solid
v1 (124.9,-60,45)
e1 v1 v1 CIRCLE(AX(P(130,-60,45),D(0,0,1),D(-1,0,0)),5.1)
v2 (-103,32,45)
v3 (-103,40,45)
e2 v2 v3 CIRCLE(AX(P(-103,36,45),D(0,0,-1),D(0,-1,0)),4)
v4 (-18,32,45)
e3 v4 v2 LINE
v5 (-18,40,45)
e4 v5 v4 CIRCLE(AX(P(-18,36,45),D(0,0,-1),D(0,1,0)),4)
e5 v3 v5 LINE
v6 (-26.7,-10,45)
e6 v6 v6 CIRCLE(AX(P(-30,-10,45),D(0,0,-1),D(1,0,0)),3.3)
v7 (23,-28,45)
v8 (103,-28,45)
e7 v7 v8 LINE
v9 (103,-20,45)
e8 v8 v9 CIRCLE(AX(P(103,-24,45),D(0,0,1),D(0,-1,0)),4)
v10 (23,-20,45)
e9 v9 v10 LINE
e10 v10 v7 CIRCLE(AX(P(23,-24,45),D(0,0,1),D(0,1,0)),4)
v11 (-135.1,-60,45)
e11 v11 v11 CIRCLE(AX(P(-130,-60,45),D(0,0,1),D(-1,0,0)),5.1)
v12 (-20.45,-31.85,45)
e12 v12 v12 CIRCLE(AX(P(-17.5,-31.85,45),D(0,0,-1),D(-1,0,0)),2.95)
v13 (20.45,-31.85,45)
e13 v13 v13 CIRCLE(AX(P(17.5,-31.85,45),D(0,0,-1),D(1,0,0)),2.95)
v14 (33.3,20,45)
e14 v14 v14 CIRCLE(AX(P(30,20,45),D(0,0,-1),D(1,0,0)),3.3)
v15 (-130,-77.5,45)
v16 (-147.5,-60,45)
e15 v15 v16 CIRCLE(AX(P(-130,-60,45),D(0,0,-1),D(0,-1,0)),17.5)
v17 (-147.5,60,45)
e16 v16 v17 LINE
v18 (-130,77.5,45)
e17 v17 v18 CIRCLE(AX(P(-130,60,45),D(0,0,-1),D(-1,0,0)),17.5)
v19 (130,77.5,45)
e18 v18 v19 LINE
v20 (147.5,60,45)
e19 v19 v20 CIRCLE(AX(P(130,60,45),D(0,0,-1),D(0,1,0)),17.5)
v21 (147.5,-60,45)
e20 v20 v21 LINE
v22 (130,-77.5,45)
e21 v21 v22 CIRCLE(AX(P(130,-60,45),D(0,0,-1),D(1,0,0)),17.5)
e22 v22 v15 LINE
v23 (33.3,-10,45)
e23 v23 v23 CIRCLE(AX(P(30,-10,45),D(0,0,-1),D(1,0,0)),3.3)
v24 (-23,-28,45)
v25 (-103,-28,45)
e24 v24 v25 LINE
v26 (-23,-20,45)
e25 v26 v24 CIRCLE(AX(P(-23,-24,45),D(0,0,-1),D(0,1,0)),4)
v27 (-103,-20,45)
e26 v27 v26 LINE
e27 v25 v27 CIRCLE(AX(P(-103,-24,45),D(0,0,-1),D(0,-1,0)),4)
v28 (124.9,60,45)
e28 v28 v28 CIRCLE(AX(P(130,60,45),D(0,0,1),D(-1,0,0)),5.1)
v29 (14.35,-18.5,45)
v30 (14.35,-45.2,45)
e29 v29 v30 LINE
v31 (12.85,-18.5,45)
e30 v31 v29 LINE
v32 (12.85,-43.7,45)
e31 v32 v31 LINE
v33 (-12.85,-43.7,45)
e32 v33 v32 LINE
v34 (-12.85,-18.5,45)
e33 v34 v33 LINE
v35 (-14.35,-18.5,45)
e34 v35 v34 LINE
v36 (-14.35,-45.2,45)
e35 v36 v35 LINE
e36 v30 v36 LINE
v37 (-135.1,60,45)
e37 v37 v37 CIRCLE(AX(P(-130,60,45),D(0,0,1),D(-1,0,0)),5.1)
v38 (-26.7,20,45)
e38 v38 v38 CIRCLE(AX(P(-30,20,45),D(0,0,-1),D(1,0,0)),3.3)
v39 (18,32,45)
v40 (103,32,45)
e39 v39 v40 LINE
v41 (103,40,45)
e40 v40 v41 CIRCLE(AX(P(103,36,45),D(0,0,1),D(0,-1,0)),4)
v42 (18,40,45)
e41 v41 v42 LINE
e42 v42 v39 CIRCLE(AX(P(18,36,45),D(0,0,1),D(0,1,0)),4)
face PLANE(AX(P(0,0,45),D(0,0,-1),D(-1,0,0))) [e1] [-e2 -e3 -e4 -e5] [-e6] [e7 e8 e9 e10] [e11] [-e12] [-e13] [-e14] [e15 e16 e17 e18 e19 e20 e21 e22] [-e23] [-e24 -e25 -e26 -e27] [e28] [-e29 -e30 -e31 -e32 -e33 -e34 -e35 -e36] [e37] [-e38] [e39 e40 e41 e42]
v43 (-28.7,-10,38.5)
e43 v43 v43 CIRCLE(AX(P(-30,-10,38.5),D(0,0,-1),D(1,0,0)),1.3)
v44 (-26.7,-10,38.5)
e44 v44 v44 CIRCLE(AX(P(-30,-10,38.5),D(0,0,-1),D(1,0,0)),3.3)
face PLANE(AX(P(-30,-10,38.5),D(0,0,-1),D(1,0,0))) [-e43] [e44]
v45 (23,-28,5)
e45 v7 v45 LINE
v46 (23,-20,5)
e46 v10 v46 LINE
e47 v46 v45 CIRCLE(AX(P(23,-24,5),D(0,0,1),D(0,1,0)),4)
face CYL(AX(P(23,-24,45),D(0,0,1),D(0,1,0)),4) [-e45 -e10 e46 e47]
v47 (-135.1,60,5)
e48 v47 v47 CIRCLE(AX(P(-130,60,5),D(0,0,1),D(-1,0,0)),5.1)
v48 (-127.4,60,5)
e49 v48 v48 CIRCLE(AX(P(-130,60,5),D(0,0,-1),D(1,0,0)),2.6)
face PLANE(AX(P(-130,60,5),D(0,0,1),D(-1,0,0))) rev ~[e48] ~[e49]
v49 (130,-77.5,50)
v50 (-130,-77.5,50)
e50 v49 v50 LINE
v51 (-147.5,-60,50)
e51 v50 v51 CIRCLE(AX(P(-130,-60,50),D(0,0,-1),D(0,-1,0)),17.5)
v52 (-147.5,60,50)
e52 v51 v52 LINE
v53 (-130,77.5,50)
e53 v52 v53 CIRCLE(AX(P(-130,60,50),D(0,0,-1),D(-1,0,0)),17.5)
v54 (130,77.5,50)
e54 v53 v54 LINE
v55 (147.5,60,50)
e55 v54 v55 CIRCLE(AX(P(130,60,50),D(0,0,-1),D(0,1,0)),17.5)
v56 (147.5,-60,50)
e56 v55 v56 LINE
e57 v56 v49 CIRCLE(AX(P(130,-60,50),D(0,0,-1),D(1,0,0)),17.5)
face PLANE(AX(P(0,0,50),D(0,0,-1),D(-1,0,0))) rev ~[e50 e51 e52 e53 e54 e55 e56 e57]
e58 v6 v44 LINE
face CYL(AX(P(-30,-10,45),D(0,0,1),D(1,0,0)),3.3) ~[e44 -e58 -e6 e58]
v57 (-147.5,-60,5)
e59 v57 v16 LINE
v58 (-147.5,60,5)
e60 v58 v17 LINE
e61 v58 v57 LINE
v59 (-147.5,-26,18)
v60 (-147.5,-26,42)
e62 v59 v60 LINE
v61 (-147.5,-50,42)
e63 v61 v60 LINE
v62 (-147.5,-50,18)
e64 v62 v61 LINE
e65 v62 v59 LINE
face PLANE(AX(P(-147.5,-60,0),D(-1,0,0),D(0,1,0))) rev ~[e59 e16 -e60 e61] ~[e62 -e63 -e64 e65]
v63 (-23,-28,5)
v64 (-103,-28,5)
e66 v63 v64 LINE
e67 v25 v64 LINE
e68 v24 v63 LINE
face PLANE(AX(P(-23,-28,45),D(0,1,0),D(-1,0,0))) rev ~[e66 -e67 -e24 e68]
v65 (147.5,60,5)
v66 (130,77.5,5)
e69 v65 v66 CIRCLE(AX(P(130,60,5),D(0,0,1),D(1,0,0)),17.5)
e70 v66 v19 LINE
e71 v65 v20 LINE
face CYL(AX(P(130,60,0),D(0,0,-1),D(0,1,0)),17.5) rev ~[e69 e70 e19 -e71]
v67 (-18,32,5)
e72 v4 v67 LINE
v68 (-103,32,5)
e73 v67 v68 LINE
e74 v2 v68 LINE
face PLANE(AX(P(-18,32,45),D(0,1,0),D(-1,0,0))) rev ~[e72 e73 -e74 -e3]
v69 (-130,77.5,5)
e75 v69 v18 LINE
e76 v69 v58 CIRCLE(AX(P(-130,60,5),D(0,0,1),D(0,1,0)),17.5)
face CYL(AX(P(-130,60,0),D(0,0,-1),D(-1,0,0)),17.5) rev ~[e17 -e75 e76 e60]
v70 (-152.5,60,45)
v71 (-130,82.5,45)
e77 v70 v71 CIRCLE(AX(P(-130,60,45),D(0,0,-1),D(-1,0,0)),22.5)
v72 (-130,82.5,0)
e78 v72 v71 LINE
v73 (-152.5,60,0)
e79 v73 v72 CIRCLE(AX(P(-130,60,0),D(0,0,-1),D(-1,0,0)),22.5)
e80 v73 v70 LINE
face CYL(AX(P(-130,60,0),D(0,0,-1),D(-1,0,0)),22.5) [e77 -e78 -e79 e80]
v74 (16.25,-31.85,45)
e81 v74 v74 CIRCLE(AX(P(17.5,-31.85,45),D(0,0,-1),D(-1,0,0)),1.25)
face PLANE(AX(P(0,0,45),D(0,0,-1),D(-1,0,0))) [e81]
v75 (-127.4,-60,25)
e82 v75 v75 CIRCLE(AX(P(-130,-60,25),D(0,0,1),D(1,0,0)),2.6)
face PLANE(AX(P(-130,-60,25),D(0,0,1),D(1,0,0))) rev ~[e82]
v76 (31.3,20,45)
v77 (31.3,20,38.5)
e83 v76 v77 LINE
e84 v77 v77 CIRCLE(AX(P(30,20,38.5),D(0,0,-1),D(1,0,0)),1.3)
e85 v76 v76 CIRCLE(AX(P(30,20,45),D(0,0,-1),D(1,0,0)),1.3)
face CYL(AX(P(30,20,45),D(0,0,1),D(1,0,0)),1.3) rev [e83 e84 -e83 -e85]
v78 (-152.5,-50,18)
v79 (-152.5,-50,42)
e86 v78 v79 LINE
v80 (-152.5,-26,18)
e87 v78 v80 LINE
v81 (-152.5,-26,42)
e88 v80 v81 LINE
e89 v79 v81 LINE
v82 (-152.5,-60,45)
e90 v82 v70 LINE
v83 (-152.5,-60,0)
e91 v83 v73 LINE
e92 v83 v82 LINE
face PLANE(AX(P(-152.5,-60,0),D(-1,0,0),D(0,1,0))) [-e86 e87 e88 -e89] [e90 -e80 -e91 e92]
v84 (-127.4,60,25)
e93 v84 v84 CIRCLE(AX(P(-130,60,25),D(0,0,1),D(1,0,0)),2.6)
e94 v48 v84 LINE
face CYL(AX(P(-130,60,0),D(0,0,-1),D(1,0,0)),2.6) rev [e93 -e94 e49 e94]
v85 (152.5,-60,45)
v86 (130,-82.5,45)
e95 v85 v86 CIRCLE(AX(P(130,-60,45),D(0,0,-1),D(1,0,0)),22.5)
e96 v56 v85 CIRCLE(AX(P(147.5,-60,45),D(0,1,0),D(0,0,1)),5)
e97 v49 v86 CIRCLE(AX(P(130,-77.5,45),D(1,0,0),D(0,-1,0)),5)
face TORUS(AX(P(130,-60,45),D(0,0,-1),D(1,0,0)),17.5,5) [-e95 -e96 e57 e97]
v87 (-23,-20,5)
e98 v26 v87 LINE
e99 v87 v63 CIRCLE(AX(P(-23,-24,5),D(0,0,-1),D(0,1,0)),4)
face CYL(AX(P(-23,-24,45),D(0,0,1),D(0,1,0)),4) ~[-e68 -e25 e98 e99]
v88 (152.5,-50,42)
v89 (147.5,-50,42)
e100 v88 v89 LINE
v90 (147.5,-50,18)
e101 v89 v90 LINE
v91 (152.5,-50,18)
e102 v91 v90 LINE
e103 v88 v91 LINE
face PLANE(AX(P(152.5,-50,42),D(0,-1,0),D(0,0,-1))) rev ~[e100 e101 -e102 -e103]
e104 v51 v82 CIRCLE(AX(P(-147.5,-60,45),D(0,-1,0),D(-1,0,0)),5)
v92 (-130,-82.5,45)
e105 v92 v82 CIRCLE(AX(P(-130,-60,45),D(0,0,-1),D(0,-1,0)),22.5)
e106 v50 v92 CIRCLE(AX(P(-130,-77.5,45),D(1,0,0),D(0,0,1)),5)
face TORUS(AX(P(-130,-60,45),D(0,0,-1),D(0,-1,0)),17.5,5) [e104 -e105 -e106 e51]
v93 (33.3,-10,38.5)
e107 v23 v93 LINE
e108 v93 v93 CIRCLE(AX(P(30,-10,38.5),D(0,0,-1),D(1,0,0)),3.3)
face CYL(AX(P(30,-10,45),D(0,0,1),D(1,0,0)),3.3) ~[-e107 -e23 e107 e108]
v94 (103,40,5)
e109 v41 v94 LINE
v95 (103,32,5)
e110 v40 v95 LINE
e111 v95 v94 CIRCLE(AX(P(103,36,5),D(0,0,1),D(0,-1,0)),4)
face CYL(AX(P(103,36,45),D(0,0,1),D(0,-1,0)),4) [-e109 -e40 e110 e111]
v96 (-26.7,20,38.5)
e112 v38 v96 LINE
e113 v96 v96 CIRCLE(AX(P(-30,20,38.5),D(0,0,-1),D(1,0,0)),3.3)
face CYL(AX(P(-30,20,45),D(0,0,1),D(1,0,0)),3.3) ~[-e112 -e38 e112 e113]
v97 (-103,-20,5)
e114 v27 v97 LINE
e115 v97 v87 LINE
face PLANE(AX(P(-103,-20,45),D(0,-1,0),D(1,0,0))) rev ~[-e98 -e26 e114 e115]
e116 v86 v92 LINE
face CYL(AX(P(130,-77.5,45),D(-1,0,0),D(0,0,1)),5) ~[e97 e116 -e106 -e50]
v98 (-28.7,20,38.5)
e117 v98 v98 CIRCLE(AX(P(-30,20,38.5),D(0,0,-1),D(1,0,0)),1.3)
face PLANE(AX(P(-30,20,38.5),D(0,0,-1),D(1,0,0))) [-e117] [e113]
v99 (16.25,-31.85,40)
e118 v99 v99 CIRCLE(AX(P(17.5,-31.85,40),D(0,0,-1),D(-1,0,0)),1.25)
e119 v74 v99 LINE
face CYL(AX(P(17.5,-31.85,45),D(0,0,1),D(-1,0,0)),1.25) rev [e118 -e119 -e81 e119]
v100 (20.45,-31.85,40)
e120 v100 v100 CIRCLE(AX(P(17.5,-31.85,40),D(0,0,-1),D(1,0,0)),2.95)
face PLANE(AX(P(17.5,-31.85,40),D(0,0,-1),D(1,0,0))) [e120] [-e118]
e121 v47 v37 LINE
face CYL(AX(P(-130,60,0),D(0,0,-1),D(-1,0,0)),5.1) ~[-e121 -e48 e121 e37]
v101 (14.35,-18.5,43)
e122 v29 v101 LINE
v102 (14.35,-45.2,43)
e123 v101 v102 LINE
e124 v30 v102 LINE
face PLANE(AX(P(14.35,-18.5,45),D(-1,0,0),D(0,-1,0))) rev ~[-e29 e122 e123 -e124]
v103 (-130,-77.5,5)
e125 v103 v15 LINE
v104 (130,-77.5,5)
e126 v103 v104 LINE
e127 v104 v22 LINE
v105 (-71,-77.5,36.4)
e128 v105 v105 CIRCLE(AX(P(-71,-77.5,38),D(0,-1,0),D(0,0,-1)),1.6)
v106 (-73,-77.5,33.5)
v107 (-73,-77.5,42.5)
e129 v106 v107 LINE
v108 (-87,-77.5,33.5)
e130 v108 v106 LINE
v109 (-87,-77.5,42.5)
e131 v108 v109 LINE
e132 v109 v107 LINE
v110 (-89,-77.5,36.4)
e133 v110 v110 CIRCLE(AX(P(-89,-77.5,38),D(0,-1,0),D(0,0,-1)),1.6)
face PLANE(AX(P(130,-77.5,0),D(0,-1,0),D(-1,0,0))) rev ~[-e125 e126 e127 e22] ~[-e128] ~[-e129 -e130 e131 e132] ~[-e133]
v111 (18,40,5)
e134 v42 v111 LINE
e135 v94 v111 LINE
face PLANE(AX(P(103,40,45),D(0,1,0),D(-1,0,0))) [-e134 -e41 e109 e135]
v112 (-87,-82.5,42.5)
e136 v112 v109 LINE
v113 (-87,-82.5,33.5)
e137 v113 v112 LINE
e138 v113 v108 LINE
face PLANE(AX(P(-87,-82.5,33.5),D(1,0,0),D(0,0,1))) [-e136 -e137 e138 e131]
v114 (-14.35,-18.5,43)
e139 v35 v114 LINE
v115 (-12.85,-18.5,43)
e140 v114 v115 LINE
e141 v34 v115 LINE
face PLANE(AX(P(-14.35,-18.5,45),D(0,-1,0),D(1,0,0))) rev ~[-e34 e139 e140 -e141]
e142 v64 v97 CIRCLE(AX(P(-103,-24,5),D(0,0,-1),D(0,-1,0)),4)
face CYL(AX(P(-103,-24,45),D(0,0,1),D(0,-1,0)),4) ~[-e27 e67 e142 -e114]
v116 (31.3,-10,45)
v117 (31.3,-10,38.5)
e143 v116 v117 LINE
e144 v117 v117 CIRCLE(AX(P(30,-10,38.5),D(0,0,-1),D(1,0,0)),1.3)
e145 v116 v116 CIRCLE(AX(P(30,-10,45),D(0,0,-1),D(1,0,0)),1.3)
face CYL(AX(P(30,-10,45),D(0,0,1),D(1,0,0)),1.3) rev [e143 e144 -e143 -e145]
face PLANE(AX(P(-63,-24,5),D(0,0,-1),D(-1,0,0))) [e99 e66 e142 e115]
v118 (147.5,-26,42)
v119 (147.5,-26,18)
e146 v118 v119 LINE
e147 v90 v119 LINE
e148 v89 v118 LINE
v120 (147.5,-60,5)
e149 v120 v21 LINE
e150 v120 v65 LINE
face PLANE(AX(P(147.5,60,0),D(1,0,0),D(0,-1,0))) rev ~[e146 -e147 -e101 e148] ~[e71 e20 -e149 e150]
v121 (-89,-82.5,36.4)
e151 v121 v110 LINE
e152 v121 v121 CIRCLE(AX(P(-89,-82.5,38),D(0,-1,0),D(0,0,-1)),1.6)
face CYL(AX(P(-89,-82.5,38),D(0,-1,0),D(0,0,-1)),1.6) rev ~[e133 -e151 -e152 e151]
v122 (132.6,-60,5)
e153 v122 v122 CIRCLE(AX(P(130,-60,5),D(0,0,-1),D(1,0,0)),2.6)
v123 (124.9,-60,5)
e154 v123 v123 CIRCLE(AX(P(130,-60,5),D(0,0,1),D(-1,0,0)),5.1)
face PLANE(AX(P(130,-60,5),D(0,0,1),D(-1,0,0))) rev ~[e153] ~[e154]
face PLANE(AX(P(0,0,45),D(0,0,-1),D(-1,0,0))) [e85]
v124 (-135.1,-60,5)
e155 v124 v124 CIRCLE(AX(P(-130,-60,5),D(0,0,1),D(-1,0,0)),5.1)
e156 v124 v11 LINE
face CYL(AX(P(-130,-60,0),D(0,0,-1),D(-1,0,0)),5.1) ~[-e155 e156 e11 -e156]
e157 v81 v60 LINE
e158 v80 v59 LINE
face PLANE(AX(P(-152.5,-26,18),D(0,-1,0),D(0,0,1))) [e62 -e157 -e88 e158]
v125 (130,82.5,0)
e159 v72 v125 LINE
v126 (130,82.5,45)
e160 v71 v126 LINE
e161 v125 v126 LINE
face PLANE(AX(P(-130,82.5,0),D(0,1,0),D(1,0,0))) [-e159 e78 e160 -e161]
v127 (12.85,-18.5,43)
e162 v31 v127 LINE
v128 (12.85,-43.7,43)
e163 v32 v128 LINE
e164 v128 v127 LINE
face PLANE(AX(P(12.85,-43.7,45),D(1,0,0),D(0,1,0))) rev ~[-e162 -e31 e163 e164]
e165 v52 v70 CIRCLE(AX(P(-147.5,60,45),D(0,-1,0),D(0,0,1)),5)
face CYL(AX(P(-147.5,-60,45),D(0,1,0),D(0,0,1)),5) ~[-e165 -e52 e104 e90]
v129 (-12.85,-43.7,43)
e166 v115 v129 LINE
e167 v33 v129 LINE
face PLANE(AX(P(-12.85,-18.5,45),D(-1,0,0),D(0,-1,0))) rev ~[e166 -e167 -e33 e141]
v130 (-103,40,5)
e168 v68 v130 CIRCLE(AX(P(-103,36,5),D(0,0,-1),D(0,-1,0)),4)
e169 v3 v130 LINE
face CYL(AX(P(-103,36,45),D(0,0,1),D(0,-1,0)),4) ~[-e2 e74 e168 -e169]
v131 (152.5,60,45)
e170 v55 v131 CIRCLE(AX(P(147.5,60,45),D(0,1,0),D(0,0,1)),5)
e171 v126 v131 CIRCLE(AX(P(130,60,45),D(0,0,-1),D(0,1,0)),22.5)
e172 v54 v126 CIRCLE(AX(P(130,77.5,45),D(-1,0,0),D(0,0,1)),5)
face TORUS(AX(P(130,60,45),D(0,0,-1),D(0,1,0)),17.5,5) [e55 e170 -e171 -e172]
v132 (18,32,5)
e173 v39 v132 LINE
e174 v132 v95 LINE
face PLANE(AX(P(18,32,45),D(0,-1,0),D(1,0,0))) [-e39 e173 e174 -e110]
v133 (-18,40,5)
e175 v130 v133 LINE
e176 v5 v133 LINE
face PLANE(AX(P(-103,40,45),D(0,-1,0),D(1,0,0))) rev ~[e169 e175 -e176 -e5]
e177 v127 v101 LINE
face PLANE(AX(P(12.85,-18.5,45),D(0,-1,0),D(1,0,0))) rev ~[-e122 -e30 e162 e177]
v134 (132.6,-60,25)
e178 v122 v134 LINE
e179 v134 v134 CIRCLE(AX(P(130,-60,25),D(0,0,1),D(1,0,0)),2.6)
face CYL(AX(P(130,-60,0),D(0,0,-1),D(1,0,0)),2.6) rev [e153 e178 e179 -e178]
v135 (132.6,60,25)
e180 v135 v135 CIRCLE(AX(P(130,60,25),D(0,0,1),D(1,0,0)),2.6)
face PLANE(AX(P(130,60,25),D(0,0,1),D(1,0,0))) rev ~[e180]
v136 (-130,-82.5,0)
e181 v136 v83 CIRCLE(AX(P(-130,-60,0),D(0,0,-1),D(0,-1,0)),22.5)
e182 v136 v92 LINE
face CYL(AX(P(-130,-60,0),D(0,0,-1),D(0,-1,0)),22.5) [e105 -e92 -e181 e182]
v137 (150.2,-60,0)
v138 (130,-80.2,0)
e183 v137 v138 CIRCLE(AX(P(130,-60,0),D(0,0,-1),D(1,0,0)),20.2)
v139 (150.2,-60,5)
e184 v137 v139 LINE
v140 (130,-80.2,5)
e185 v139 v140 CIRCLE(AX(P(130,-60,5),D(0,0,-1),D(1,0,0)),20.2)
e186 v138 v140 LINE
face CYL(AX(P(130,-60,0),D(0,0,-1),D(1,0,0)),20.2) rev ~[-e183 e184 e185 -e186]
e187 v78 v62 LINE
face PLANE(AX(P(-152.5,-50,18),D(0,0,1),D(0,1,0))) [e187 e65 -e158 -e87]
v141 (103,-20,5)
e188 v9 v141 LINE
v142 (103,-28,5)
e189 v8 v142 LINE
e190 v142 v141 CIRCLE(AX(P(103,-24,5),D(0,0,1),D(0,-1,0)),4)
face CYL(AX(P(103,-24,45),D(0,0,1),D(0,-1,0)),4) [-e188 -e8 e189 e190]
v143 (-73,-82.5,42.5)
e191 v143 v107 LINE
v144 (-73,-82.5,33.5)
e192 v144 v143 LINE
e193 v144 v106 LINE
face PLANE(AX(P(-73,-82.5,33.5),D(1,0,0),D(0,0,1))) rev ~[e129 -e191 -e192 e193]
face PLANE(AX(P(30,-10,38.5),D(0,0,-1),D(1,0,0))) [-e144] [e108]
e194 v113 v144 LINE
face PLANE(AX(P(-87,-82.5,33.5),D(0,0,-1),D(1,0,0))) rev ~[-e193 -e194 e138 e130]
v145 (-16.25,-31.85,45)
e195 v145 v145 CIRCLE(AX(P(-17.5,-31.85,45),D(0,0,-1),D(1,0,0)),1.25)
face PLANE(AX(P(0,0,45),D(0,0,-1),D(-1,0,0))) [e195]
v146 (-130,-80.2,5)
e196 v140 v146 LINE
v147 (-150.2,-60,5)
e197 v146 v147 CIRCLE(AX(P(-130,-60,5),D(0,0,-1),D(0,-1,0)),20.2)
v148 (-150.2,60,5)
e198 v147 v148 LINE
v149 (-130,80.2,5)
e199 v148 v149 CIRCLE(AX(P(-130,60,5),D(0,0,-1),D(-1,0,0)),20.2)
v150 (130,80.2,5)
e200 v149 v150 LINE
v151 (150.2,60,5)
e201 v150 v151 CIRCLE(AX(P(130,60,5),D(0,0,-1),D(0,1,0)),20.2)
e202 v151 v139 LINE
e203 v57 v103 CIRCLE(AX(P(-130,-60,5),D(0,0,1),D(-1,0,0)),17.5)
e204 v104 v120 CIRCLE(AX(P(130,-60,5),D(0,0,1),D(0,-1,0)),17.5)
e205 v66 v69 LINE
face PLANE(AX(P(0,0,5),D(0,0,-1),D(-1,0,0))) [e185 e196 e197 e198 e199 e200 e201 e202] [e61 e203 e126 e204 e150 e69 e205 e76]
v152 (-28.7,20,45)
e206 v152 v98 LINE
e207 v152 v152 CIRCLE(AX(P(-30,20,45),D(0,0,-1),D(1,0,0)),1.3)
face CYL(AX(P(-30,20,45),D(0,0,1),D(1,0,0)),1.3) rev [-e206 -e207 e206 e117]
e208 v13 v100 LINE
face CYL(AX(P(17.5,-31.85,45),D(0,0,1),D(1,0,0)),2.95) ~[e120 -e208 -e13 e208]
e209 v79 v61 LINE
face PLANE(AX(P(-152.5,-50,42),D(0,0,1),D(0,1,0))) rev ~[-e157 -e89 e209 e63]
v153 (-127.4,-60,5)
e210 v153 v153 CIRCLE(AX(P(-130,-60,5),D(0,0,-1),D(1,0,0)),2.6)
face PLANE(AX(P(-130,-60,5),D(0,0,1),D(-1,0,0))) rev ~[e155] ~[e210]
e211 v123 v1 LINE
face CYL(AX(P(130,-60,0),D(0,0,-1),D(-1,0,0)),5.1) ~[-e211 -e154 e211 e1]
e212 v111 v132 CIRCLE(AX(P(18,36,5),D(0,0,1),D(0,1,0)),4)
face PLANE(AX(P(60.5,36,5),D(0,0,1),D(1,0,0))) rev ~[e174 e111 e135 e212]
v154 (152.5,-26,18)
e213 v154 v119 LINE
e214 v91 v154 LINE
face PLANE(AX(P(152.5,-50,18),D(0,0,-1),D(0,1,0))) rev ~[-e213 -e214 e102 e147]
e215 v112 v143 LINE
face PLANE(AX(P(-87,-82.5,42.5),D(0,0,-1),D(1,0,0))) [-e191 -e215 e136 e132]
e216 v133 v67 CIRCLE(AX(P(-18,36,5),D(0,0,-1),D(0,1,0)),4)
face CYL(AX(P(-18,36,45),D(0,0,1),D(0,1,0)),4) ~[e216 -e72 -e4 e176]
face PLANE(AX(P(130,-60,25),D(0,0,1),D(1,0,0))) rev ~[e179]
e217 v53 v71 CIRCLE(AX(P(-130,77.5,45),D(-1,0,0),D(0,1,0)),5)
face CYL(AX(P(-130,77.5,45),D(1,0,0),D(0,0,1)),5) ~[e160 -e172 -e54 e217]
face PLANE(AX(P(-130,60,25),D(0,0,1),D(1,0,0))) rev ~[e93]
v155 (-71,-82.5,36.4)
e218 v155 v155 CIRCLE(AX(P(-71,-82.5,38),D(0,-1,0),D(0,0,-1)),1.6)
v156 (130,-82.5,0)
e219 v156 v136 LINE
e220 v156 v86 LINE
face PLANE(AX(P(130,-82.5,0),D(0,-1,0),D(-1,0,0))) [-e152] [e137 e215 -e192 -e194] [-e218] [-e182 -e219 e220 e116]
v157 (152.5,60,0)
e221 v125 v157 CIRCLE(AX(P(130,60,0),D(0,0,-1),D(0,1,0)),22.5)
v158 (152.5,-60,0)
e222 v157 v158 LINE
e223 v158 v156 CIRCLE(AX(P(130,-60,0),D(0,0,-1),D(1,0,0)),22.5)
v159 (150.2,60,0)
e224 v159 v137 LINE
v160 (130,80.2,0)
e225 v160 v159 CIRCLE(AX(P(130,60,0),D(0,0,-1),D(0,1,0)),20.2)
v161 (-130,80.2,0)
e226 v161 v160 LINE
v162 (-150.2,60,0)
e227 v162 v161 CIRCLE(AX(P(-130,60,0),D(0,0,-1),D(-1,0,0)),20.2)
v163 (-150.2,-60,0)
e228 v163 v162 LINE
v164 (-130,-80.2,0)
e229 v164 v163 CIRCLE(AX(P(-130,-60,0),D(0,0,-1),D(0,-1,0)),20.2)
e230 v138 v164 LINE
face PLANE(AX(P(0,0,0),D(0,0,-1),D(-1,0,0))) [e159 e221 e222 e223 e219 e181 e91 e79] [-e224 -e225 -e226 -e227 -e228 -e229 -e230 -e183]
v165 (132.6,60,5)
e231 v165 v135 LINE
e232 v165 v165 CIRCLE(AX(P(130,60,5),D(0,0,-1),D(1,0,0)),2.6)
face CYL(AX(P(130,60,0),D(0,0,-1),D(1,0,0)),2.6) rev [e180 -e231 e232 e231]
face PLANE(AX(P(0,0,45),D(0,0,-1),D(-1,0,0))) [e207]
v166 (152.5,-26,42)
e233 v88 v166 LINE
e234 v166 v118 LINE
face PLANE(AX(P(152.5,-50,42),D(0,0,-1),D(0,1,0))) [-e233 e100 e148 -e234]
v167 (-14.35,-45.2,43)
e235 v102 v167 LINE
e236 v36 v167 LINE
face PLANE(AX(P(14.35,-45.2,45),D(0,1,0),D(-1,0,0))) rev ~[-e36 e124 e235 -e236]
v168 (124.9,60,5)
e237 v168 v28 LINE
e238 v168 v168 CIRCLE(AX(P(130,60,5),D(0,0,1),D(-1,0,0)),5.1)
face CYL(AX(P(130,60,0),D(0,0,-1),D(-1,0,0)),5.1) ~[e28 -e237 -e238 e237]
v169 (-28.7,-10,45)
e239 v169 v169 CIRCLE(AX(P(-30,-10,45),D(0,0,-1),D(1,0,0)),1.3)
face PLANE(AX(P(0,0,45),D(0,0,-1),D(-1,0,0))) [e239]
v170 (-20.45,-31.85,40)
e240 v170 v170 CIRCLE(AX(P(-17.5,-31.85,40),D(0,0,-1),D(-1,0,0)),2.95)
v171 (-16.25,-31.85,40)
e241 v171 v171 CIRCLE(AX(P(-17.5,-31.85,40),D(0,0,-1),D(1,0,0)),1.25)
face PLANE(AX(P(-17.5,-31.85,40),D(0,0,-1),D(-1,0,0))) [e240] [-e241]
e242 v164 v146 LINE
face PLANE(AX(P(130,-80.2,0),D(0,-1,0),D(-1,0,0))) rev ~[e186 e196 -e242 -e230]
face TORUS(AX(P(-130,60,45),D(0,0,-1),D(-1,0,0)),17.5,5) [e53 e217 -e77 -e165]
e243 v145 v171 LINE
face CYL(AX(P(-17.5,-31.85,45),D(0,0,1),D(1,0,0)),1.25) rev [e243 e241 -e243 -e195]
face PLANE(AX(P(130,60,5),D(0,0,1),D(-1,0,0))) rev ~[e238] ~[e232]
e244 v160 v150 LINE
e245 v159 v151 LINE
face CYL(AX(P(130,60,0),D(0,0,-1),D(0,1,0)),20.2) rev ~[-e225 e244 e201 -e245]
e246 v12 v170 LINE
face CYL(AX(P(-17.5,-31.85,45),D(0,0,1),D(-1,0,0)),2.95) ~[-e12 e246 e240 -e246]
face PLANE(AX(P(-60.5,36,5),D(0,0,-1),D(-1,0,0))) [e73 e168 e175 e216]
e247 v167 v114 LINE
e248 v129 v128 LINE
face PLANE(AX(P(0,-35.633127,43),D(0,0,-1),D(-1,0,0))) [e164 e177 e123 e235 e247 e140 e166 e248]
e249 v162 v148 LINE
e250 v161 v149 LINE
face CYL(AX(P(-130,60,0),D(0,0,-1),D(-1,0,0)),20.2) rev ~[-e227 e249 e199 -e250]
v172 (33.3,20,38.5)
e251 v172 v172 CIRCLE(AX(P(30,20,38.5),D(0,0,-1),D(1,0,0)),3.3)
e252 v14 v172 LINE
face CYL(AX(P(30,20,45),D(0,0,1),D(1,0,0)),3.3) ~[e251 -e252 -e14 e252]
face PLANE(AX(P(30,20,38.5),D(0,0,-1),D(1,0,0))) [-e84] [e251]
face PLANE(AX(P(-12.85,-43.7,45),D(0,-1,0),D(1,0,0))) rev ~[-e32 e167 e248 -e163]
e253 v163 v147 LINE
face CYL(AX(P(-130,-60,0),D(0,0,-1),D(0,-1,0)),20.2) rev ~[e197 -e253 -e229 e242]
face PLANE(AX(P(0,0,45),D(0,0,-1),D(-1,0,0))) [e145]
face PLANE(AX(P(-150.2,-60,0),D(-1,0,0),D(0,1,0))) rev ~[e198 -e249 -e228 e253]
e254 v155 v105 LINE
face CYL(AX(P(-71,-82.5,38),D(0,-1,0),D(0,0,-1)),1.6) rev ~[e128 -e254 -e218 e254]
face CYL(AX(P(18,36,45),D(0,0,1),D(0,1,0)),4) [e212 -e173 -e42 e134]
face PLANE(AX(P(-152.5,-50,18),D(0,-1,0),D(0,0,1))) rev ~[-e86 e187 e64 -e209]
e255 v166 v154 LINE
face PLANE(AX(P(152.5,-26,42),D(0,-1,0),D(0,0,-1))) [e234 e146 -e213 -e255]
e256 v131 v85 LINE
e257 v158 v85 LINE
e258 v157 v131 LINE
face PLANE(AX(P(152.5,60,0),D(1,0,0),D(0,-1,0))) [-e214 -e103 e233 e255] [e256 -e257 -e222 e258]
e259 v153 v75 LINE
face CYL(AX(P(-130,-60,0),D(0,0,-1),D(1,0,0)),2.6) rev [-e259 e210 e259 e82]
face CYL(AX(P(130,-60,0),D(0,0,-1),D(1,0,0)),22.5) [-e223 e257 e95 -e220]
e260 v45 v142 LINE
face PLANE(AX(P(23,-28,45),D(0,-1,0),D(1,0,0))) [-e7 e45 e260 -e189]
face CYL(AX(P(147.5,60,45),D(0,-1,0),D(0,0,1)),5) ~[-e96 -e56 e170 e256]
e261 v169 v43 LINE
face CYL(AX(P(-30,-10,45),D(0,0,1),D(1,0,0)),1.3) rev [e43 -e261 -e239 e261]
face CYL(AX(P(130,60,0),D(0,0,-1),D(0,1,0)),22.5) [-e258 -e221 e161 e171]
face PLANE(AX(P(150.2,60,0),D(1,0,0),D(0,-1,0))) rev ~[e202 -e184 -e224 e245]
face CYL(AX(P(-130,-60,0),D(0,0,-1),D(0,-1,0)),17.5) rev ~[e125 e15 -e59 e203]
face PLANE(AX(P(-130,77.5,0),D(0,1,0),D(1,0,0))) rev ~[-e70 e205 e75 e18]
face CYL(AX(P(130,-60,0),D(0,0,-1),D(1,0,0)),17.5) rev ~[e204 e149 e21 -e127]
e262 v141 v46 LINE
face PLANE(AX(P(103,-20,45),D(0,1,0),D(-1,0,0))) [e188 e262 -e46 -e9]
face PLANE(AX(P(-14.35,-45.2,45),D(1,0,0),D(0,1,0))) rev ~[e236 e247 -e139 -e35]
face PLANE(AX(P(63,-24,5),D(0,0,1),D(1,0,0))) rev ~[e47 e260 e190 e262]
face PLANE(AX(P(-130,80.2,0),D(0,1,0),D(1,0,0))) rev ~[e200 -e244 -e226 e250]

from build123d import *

# Parameters (mm, degrees)
EXTRUDE_1_DEPTH      = 50
SKETCH_1_4_R         = 5.1
CUT_EXTRUDE_1_DEPTH  = 45
CUT_EXTRUDE_2_DEPTH  = 5
SKETCH_1_6_R         = 5.1
CUT_EXTRUDE_3_DEPTH  = 5
SKETCH_1_7_R         = 2.6
CUT_EXTRUDE_4_DEPTH  = 25
FILLET_2_R           = 5
SKETCH_14_W          = 14
SKETCH_14_H          = 9
SKETCH_14_R          = 1.6
USB_DEPTH            = 5
SKETCH_16_W          = 24
SKETCH_16_H          = 24
CUT_EXTRUDE_12_DEPTH = 5
SKETCH_18_W          = 24
SKETCH_18_H          = 24
CUT_EXTRUDE_13_DEPTH = 5
EXTRUDE_2_DEPTH      = 40
EXTRUDE_3_DEPTH      = 2
SKETCH_29_4_R        = 2.95
SKETCH_29_4_R_2      = 1.25
EXTRUDE_4_DEPTH      = 5
SKETCH_29_5_R        = 3.3
SKETCH_29_5_R_2      = 1.3
EXTRUDE_5_DEPTH      = 6.5


with BuildPart() as part:
    # 草图1 → 凸台-拉伸1 (new body)
    with BuildSketch(Plane.XY):
        with BuildLine():
            Line((-130, 82.5), (130, 82.5))
            ThreePointArc((130, 82.5), (145.909902577, 75.909902577), (152.5, 60))
            Line((152.5, 60), (152.5, -60))
            ThreePointArc((152.5, -60), (145.909902577, -75.909902577), (130, -82.5))
            Line((130, -82.5), (-130, -82.5))
            ThreePointArc((-130, -82.5), (-145.909902577, -75.909902577), (-152.5, -60))
            Line((-152.5, -60), (-152.5, 60))
            ThreePointArc((-152.5, 60), (-145.909902577, 75.909902577), (-130, 82.5))
        make_face()
    extrude(amount=EXTRUDE_1_DEPTH)

    # 草图1<4> → 切除-拉伸1 (cut)
    with BuildSketch(Plane.XY):
        with BuildLine():
            Line((130, 77.5), (-130, 77.5))
            ThreePointArc((-130, 77.5), (-142.374368671, 72.374368671), (-147.5, 60))
            Line((-147.5, 60), (-147.5, -60))
            ThreePointArc((-147.5, -60), (-142.374368671, -72.374368671), (-130, -77.5))
            Line((-130, -77.5), (130, -77.5))
            ThreePointArc((130, -77.5), (142.374368671, -72.374368671), (147.5, -60))
            Line((147.5, -60), (147.5, 60))
            ThreePointArc((147.5, 60), (142.374368671, 72.374368671), (130, 77.5))
        make_face()
        with Locations((-130, -60)):
            Circle(SKETCH_1_4_R, mode=Mode.SUBTRACT)
        with Locations((130, -60)):
            Circle(SKETCH_1_4_R, mode=Mode.SUBTRACT)
        with Locations((-130, 60)):
            Circle(SKETCH_1_4_R, mode=Mode.SUBTRACT)
        with Locations((130, 60)):
            Circle(SKETCH_1_4_R, mode=Mode.SUBTRACT)
    extrude(amount=CUT_EXTRUDE_1_DEPTH, mode=Mode.SUBTRACT)

    # 草图1<5> → 切除-拉伸2 (cut)
    with BuildSketch(Plane.XY):
        with BuildLine():
            ThreePointArc((-130, 80.2), (-144.28355698, 74.28355698), (-150.2, 60))
            Line((-150.2, 60), (-150.2, -60))
            ThreePointArc((-150.2, -60), (-144.28355698, -74.28355698), (-130, -80.2))
            Line((-130, -80.2), (130, -80.2))
            ThreePointArc((130, -80.2), (144.28355698, -74.28355698), (150.2, -60))
            Line((150.2, -60), (150.2, 60))
            ThreePointArc((150.2, 60), (144.28355698, 74.28355698), (130, 80.2))
            Line((130, 80.2), (-130, 80.2))
        make_face()
        with BuildLine():
            ThreePointArc((-147.5, 60), (-142.374368671, 72.374368671), (-130, 77.5))
            Line((-130, 77.5), (130, 77.5))
            ThreePointArc((130, 77.5), (142.374368671, 72.374368671), (147.5, 60))
            Line((147.5, 60), (147.5, -60))
            ThreePointArc((147.5, -60), (142.374368671, -72.374368671), (130, -77.5))
            Line((130, -77.5), (-130, -77.5))
            ThreePointArc((-130, -77.5), (-142.374368671, -72.374368671), (-147.5, -60))
            Line((-147.5, -60), (-147.5, 60))
        make_face(mode=Mode.SUBTRACT)
    extrude(amount=CUT_EXTRUDE_2_DEPTH, mode=Mode.SUBTRACT)

    # 草图1<6> → 切除-拉伸3 (cut)
    with BuildSketch(Plane.XY):
        with Locations((130, 60)):
            Circle(SKETCH_1_6_R)
        with Locations((130, -60)):
            Circle(SKETCH_1_6_R)
        with Locations((-130, 60)):
            Circle(SKETCH_1_6_R)
        with Locations((-130, -60)):
            Circle(SKETCH_1_6_R)
    extrude(amount=CUT_EXTRUDE_3_DEPTH, mode=Mode.SUBTRACT)

    # 草图1<7> → 切除-拉伸4 (cut)
    with BuildSketch(Plane.XY):
        with Locations((130, 60)):
            Circle(SKETCH_1_7_R)
        with Locations((130, -60)):
            Circle(SKETCH_1_7_R)
        with Locations((-130, 60)):
            Circle(SKETCH_1_7_R)
        with Locations((-130, -60)):
            Circle(SKETCH_1_7_R)
    extrude(amount=CUT_EXTRUDE_4_DEPTH, mode=Mode.SUBTRACT)

    # 圆角2
    fillet_2_edges = [part.edges().sort_by_distance(p)[0] for p in [
        (0, -82.5, 50),
        (152.5, 0, 50),
        (0, 82.5, 50),
        (-152.5, 0, 50),
    ]]
    fillet(fillet_2_edges, radius=FILLET_2_R)

    # 草图14 → USB口 (cut)
    with BuildSketch(Plane.XZ.offset(82.5)):
        with Locations((-80, 38)):
            Rectangle(SKETCH_14_W, SKETCH_14_H)
        with Locations((-71, 38)):
            Circle(SKETCH_14_R)
        with Locations((-89, 38)):
            Circle(SKETCH_14_R)
    extrude(amount=-USB_DEPTH, mode=Mode.SUBTRACT)

    # 草图16 → 切除-拉伸12 (cut)
    with BuildSketch(Plane(origin=(152.5, 0, 0), x_dir=(0, 0, -1), z_dir=(1, 0, 0))):
        with Locations((-30, -38)):
            Rectangle(SKETCH_16_W, SKETCH_16_H)
    extrude(amount=-CUT_EXTRUDE_12_DEPTH, mode=Mode.SUBTRACT)

    # 草图18 → 切除-拉伸13 (cut)
    with BuildSketch(Plane.ZY.offset(152.5)):
        with Locations((30, -38)):
            Rectangle(SKETCH_18_W, SKETCH_18_H)
    extrude(amount=-CUT_EXTRUDE_13_DEPTH, mode=Mode.SUBTRACT)

    # 草图19 → 凸台-拉伸2 (add)
    with BuildSketch(Plane(origin=(0, 0, 45), x_dir=(-1, 0, 0), z_dir=(0, 0, -1))):
        with BuildLine():
            Line((-103, 40), (-18, 40))
            ThreePointArc((-18, 40), (-14, 36), (-18, 32))
            Line((-18, 32), (-103, 32))
            ThreePointArc((-103, 32), (-107, 36), (-103, 40))
        make_face()
        with BuildLine():
            Line((103, 40), (18, 40))
            ThreePointArc((18, 40), (14, 36), (18, 32))
            Line((18, 32), (103, 32))
            ThreePointArc((103, 32), (107, 36), (103, 40))
        make_face()
        with BuildLine():
            Line((-103, -20), (-23, -20))
            ThreePointArc((-23, -20), (-19, -24), (-23, -28))
            Line((-23, -28), (-103, -28))
            ThreePointArc((-103, -28), (-107, -24), (-103, -20))
        make_face()
        with BuildLine():
            Line((103, -20), (23, -20))
            ThreePointArc((23, -20), (19, -24), (23, -28))
            Line((23, -28), (103, -28))
            ThreePointArc((103, -28), (107, -24), (103, -20))
        make_face()
    extrude(amount=EXTRUDE_2_DEPTH)

    # 草图29 → 凸台-拉伸3 (add)
    with BuildSketch(Plane(origin=(0, 0, 45), x_dir=(-1, 0, 0), z_dir=(0, 0, -1))):
        Polygon((-14.35, -45.2), (14.35, -45.2), (14.35, -18.5), (12.85, -18.5), (12.85, -20), (12.85, -43.7), (-12.85, -43.7), (-12.85, -20), (-12.85, -18.5), (-14.35, -18.5), align=None)
    extrude(amount=EXTRUDE_3_DEPTH)

    # 草图29<4> → 凸台-拉伸4 (add)
    # profile 1 of 2: a face of its own
    with BuildSketch(Plane(origin=(0, 0, 45), x_dir=(-1, 0, 0), z_dir=(0, 0, -1))):
        with Locations((-17.5, -31.85)):
            Circle(SKETCH_29_4_R)
        with Locations((-17.5, -31.85)):
            Circle(SKETCH_29_4_R_2, mode=Mode.SUBTRACT)
    # profile 2 of 2: a face of its own
    with BuildSketch(Plane(origin=(0, 0, 45), x_dir=(-1, 0, 0), z_dir=(0, 0, -1))):
        with Locations((17.5, -31.85)):
            Circle(SKETCH_29_4_R)
        with Locations((17.5, -31.85)):
            Circle(SKETCH_29_4_R_2, mode=Mode.SUBTRACT)
    extrude(amount=EXTRUDE_4_DEPTH)

    # 草图29<5> → 凸台-拉伸5 (add)
    # profile 1 of 4: a face of its own
    with BuildSketch(Plane(origin=(0, 0, 45), x_dir=(-1, 0, 0), z_dir=(0, 0, -1))):
        with Locations((-30, 20)):
            Circle(SKETCH_29_5_R)
        with Locations((-30, 20)):
            Circle(SKETCH_29_5_R_2, mode=Mode.SUBTRACT)
    # profile 2 of 4: a face of its own
    with BuildSketch(Plane(origin=(0, 0, 45), x_dir=(-1, 0, 0), z_dir=(0, 0, -1))):
        with Locations((30, 20)):
            Circle(SKETCH_29_5_R)
        with Locations((30, 20)):
            Circle(SKETCH_29_5_R_2, mode=Mode.SUBTRACT)
    # profile 3 of 4: a face of its own
    with BuildSketch(Plane(origin=(0, 0, 45), x_dir=(-1, 0, 0), z_dir=(0, 0, -1))):
        with Locations((30, -10)):
            Circle(SKETCH_29_5_R)
        with Locations((30, -10)):
            Circle(SKETCH_29_5_R_2, mode=Mode.SUBTRACT)
    # profile 4 of 4: a face of its own
    with BuildSketch(Plane(origin=(0, 0, 45), x_dir=(-1, 0, 0), z_dir=(0, 0, -1))):
        with Locations((-30, -10)):
            Circle(SKETCH_29_5_R)
        with Locations((-30, -10)):
            Circle(SKETCH_29_5_R_2, mode=Mode.SUBTRACT)
    extrude(amount=EXTRUDE_5_DEPTH)


solid = part.part
